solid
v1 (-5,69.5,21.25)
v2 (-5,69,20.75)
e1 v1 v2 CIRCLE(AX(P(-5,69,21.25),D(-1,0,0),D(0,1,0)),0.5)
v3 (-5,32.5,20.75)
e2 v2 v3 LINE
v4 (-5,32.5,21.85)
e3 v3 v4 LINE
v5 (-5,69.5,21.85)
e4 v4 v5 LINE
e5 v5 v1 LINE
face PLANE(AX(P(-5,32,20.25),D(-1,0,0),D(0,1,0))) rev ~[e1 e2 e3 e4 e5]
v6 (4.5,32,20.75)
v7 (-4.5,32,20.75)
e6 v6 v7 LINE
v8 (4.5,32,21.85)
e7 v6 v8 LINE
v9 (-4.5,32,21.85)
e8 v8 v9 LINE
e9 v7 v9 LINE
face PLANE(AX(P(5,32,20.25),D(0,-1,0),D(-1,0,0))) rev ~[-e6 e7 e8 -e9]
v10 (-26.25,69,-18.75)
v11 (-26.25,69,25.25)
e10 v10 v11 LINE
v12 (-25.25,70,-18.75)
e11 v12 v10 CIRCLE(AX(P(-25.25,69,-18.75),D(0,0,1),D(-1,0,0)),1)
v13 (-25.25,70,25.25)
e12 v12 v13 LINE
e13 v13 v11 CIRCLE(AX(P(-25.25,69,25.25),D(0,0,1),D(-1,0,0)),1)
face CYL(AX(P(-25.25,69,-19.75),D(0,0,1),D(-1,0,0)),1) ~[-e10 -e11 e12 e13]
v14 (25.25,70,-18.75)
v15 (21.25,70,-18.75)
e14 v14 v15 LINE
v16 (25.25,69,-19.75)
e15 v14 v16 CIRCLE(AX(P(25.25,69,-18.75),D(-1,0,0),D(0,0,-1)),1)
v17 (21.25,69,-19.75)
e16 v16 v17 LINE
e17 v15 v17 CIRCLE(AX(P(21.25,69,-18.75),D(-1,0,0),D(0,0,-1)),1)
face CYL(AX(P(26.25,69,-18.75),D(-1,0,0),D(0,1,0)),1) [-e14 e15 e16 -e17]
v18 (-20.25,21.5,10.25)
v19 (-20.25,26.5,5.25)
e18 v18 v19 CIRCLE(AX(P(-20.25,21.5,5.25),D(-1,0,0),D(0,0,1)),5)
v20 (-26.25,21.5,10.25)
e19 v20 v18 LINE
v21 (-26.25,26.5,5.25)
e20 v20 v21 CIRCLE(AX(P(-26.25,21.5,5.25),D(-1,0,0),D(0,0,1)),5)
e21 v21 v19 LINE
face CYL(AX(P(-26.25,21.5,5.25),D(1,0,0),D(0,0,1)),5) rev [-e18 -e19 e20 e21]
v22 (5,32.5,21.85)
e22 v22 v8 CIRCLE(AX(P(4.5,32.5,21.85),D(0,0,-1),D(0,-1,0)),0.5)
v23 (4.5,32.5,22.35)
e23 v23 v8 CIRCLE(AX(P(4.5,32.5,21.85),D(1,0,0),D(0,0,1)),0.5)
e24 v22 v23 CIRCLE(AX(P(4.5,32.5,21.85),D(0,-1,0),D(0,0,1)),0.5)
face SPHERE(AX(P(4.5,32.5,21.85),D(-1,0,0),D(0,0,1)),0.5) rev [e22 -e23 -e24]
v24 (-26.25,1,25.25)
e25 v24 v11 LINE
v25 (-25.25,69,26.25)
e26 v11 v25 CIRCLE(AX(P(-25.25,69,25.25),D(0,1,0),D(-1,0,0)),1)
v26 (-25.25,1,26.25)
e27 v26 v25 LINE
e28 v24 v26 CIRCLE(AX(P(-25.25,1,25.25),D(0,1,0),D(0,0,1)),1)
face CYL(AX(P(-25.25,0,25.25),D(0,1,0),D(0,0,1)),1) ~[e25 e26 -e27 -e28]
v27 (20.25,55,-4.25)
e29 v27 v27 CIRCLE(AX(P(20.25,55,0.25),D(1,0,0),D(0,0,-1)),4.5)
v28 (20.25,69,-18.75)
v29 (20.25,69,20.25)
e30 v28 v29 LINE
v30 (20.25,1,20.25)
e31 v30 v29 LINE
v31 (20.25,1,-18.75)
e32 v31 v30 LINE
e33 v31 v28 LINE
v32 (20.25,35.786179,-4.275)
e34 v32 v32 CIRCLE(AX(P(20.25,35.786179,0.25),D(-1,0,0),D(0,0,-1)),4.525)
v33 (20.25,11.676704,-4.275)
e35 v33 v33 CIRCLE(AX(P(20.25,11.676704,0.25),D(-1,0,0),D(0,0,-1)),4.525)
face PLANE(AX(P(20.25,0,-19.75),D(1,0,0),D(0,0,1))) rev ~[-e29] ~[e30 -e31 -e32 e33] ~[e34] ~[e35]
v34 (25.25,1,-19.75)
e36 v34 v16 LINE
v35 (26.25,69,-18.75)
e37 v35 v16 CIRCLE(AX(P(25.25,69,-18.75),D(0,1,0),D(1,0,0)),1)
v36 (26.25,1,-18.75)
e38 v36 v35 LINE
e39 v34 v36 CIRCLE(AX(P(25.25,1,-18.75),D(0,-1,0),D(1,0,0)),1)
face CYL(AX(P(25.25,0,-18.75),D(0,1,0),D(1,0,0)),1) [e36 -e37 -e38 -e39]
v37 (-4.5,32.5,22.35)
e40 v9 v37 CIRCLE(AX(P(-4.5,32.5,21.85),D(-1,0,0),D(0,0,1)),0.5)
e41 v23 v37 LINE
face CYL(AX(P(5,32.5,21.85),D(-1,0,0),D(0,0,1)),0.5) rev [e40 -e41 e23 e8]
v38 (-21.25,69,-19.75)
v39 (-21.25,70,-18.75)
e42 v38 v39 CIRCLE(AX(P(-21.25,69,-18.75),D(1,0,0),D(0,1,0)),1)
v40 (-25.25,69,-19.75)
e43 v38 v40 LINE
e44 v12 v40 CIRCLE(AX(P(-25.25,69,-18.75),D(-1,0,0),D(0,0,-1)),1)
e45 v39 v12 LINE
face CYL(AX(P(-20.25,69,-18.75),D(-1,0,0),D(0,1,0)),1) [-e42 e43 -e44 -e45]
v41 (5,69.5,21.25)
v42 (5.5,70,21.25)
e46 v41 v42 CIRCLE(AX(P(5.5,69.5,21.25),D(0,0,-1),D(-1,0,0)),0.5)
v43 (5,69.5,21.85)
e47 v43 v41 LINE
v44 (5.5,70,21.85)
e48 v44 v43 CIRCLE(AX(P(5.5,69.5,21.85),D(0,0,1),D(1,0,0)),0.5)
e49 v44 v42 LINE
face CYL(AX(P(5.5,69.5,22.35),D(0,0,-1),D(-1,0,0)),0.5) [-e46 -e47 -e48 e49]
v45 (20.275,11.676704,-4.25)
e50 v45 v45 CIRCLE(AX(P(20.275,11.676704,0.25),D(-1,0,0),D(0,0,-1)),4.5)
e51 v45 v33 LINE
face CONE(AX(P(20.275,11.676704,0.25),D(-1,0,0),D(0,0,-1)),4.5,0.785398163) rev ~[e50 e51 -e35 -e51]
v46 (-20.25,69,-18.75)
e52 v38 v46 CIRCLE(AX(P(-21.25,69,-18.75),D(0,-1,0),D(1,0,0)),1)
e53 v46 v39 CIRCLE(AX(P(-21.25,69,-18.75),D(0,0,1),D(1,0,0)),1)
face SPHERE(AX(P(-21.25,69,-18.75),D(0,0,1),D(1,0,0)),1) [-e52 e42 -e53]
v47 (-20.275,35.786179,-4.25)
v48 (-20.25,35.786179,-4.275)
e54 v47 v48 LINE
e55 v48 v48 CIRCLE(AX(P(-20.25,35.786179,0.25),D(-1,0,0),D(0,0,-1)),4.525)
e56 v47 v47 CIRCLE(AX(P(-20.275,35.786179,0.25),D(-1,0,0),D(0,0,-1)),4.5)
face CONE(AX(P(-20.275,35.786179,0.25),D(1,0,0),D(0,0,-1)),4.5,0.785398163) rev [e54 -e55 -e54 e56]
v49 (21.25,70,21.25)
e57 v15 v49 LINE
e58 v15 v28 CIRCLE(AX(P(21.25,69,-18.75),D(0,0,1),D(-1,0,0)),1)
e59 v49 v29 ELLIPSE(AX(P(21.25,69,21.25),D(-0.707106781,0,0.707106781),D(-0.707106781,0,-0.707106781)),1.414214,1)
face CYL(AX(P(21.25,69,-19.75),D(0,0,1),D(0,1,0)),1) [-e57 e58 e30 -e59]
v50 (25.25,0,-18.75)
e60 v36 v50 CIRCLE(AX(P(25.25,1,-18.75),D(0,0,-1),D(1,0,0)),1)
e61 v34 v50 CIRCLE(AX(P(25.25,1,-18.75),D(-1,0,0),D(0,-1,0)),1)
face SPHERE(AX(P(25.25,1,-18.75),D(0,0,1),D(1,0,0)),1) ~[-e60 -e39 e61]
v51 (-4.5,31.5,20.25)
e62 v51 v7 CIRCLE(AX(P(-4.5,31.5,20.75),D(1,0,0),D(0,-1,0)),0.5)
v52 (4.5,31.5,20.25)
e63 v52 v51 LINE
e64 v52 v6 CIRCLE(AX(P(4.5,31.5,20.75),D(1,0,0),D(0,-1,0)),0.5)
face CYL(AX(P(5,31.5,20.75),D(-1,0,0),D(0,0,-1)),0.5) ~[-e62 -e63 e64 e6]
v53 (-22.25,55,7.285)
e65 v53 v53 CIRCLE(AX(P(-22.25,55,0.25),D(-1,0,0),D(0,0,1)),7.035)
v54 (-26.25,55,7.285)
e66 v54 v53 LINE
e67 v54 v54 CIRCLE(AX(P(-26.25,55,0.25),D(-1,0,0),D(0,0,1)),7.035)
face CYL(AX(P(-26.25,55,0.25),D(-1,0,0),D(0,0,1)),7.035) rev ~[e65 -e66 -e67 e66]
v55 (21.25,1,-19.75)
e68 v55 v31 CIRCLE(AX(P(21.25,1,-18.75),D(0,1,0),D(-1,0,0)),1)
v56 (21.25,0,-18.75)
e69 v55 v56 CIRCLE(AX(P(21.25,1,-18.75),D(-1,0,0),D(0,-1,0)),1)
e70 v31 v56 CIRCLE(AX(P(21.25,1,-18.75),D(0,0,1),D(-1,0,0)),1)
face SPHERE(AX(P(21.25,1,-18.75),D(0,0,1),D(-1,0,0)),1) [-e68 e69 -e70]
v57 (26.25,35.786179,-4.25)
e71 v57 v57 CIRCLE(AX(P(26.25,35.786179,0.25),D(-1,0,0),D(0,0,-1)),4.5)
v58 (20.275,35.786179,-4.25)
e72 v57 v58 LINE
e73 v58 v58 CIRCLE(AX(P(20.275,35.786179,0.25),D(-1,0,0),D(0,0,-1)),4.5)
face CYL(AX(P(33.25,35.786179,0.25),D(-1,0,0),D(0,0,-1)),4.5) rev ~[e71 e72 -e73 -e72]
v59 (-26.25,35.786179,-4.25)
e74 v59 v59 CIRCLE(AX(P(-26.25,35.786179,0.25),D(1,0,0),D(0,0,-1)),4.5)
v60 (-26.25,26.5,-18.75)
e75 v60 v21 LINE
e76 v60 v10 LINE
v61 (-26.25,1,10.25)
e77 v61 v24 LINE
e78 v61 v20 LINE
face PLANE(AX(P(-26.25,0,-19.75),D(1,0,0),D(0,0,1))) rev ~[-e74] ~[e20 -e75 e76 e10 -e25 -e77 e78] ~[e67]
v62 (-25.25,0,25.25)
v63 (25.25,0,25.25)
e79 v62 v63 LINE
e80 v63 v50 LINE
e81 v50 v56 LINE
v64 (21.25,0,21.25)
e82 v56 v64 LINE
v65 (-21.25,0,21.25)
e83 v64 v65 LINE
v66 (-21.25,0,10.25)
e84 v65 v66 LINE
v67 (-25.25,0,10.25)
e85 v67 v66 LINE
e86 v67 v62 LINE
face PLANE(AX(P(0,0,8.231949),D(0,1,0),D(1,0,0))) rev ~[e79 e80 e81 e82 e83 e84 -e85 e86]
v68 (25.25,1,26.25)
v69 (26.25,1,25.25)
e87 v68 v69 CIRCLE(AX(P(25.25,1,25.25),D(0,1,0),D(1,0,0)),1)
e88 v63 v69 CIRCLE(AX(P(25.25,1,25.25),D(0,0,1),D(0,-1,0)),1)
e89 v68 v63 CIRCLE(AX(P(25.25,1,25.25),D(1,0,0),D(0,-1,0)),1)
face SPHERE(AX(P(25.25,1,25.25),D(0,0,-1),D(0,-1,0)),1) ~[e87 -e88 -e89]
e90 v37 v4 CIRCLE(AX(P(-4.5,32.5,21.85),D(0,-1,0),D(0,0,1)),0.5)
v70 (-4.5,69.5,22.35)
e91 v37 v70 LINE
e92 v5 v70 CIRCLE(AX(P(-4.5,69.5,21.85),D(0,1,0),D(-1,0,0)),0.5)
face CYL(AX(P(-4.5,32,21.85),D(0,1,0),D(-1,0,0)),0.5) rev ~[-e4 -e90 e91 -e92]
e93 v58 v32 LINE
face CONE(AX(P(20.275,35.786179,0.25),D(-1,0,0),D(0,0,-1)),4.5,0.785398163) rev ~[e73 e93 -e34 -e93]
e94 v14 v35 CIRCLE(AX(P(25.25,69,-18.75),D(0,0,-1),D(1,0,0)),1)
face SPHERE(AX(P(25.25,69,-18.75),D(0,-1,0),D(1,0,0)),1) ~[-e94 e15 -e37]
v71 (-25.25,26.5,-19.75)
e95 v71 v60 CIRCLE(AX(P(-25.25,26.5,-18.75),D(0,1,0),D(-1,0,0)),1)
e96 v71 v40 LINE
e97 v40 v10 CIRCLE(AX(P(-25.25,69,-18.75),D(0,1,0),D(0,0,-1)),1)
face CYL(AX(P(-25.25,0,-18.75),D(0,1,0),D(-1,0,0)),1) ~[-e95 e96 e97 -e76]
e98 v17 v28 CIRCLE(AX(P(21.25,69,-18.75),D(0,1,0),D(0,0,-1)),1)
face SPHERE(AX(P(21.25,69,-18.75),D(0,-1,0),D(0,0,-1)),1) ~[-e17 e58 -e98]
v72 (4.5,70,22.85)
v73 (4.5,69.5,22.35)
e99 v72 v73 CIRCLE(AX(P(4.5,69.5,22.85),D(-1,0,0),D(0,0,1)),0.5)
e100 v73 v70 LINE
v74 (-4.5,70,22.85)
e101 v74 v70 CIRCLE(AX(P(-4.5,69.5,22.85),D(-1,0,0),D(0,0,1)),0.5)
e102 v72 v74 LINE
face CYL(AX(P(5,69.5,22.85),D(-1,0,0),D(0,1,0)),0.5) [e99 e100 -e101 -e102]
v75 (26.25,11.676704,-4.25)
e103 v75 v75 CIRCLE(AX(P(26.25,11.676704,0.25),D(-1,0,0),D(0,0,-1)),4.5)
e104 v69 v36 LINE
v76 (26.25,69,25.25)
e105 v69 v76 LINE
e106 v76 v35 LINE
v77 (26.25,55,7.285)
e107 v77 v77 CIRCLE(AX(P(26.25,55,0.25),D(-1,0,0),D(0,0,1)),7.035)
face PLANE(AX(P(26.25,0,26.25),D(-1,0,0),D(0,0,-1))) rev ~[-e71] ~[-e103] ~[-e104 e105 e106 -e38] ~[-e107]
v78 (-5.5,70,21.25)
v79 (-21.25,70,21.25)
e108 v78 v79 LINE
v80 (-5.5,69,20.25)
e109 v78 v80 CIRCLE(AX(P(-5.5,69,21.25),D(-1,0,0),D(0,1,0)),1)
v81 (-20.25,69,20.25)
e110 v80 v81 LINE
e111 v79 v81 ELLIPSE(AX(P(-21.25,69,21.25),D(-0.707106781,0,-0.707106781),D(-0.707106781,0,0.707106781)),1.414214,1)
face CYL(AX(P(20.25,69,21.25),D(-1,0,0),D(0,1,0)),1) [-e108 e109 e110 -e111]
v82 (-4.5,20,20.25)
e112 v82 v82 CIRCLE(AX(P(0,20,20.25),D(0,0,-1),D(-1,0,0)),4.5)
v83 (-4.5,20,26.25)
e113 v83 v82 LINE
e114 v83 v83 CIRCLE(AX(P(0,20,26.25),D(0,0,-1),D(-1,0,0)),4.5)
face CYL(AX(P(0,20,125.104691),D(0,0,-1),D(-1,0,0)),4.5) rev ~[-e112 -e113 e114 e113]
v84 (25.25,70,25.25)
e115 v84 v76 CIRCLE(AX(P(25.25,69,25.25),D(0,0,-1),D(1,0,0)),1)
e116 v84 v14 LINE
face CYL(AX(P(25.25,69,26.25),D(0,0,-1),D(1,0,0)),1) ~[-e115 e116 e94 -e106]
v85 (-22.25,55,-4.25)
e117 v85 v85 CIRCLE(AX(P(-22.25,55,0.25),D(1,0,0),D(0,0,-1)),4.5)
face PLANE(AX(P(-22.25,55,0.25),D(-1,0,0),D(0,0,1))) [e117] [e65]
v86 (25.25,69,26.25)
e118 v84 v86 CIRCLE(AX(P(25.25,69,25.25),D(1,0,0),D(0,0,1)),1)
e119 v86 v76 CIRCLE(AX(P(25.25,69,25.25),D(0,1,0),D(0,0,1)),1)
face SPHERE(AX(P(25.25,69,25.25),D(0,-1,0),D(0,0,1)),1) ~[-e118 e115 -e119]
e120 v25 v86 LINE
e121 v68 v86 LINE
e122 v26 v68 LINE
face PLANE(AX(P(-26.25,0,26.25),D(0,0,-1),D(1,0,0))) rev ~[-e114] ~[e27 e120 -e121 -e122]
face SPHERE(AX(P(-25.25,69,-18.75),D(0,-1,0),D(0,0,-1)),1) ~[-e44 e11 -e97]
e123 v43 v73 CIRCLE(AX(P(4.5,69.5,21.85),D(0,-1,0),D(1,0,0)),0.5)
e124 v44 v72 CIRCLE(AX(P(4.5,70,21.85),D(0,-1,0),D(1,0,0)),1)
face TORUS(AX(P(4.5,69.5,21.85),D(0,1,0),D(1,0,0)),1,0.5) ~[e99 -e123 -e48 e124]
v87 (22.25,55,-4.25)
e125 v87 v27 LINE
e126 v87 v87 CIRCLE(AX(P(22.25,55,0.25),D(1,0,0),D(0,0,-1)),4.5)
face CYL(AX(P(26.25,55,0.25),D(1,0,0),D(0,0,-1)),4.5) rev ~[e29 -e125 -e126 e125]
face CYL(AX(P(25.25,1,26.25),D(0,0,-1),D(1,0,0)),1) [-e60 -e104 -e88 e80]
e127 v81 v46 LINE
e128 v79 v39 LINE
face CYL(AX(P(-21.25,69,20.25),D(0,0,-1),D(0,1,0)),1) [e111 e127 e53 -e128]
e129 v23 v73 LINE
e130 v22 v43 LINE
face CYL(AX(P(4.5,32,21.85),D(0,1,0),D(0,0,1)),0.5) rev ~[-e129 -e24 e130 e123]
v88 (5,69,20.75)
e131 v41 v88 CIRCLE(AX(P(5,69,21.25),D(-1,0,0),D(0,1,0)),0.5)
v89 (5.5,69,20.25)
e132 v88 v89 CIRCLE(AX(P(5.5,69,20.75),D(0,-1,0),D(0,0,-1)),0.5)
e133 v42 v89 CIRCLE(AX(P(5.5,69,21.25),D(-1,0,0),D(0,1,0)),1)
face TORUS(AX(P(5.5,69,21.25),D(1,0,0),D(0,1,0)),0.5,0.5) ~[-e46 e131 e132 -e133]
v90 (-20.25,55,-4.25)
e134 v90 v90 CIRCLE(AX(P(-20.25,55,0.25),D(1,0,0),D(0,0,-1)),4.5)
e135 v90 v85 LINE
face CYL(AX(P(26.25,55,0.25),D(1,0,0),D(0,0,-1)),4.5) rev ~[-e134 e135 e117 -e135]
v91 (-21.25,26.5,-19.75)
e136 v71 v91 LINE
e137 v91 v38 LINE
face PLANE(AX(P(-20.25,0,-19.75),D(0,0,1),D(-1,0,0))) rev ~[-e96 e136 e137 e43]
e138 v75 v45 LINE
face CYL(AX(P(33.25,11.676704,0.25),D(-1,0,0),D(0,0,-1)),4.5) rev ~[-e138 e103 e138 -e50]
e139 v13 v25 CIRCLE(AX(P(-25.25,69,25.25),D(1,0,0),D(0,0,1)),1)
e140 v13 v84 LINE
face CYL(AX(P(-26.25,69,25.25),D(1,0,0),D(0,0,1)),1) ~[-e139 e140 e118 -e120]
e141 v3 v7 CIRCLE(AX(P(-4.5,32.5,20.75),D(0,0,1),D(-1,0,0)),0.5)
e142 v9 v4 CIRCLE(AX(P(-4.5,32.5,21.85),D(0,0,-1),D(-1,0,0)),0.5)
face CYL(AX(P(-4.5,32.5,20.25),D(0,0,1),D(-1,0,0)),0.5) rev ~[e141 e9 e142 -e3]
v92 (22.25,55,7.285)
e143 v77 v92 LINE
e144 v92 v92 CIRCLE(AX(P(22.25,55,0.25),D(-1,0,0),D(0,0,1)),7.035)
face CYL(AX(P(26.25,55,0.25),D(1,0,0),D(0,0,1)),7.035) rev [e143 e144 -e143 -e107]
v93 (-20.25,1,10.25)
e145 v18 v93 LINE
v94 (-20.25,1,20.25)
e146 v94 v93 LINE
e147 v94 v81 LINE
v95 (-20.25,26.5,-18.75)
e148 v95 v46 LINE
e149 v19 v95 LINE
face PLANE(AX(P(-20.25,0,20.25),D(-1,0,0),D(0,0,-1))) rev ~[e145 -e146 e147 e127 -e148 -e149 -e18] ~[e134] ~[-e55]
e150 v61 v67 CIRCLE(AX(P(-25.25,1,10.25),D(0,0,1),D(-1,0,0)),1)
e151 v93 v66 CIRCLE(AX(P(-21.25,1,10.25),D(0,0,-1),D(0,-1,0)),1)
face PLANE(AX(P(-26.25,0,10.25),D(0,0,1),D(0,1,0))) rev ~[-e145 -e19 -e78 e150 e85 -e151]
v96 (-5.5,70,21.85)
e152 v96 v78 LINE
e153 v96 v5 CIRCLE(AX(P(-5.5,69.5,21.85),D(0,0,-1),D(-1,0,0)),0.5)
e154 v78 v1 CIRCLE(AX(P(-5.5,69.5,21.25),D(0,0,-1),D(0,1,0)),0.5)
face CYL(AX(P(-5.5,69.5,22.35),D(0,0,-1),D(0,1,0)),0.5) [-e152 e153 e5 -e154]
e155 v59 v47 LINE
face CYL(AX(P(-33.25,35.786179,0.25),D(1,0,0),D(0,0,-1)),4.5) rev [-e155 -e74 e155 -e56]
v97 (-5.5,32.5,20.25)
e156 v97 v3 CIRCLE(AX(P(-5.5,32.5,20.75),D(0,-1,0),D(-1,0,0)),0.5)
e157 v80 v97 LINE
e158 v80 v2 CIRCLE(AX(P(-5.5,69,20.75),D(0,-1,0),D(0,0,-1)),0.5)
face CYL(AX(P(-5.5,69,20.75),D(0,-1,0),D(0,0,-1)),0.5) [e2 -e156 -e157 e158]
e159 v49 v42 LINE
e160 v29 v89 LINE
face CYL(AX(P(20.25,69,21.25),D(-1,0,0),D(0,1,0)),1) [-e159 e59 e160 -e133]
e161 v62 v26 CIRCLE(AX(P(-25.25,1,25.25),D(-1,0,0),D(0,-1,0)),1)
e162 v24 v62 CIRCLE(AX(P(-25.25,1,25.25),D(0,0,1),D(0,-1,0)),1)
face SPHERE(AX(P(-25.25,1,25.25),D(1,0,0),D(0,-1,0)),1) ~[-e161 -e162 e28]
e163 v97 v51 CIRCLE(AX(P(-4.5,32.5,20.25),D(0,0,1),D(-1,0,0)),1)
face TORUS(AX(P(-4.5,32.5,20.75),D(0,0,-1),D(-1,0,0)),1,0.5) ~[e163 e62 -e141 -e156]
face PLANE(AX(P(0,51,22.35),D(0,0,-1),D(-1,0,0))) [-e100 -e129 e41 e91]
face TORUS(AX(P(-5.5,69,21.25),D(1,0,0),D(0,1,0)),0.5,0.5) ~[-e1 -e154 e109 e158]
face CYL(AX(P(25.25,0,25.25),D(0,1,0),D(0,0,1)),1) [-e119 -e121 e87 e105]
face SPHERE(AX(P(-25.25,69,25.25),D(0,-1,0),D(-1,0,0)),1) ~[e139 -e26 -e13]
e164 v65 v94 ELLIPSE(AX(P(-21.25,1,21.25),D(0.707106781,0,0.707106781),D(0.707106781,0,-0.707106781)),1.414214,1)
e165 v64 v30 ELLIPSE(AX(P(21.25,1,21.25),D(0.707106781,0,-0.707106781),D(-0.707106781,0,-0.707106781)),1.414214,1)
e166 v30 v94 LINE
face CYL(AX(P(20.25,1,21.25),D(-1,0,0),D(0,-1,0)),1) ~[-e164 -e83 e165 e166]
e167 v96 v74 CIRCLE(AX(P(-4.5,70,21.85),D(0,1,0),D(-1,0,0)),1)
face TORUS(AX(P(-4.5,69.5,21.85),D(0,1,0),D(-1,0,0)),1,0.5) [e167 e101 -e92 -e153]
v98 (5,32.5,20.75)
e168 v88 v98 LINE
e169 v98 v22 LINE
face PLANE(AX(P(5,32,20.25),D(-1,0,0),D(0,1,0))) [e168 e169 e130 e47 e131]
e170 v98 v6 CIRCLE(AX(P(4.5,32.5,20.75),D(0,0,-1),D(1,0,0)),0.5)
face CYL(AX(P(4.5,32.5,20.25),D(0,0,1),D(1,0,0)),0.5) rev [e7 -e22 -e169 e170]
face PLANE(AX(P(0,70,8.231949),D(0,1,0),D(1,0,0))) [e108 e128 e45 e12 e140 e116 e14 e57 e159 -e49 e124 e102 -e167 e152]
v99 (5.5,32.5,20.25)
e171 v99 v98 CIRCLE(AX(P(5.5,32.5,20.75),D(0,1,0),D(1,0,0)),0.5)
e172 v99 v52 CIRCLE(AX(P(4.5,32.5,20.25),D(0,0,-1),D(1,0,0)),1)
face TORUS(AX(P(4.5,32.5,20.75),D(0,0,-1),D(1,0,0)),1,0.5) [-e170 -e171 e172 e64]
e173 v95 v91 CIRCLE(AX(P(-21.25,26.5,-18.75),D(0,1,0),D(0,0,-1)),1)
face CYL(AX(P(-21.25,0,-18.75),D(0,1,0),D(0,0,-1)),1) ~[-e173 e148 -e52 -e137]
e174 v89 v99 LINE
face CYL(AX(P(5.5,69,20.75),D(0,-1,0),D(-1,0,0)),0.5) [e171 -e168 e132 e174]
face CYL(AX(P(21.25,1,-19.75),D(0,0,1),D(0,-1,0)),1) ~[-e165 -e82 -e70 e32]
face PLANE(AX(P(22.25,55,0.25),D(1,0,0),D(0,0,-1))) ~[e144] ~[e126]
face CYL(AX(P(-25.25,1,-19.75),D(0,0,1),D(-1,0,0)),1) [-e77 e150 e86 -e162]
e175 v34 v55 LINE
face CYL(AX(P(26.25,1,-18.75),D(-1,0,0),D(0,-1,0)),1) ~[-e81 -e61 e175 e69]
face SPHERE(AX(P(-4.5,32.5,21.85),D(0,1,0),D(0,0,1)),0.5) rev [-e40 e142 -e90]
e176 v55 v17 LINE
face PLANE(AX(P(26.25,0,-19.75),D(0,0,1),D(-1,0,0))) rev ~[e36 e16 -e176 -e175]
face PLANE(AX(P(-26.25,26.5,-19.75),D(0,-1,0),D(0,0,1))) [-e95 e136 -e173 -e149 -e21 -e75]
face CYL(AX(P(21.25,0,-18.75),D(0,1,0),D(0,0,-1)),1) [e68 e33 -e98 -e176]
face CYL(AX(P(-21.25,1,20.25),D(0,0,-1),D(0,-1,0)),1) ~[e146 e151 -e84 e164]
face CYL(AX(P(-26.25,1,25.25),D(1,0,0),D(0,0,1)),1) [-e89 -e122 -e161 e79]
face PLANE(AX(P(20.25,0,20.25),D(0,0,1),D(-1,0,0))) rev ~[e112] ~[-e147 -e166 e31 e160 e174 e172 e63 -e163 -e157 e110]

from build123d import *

# Parameters (mm, degrees)
BOSS_EXTRUDE1_DEPTH           = 70
SKETCH8_R                     = 4.5
CUT_EXTRUDE4_DEPTH            = 53.5
SKETCH10_R                    = 7.035
CUT_EXTRUDE5_DEPTH            = 4
FILLET13_R                    = 1
M8_CLEARANCE_HOLE1_AT_2_COUNT = 2
M8_CLEARANCE_HOLE1_AT_2_PITCH = 24.109474775
CUT_EXTRUDE6_REACH            = 54.5
SKETCH21_W                    = 30
SKETCH21_H                    = 26.5
M8_CLEARANCE_HOLE2_D          = 9
FILLET14_R                    = 5
SKETCH24_W                    = 10
SKETCH24_H                    = 38
CUT_EXTRUDE7_DEPTH            = 2.1
FILLET15_R                    = 0.5


with BuildPart() as part:
    # Sketch1 → Boss-Extrude1 (new body)
    with BuildSketch(Plane(origin=(0, 0, 0), x_dir=(1, 0, 0), z_dir=(0, 1, 0))):
        Polygon((-26.25, -26.25), (26.25, -26.25), (26.25, 19.75), (20.25, 19.75), (20.25, -20.25), (-20.25, -20.25), (-20.25, 19.75), (-26.25, 19.75), align=None)
    extrude(amount=BOSS_EXTRUDE1_DEPTH)

    # Sketch8 → Cut-Extrude4 (cut, through all)
    with BuildSketch(Plane(origin=(26.25, 0, 0), x_dir=(0, 0, -1), z_dir=(1, 0, 0))):
        with Locations((-0.25, 55)):
            Circle(SKETCH8_R)
    extrude(amount=-CUT_EXTRUDE4_DEPTH, mode=Mode.SUBTRACT)

    # Sketch10 → Cut-Extrude5 (cut)
    with BuildSketch(Plane.ZY.offset(26.25)):
        with Locations((0.25, 55)):
            Circle(SKETCH10_R)
    cut_extrude5 = extrude(amount=-CUT_EXTRUDE5_DEPTH, mode=Mode.SUBTRACT)

    # Mirror1: Cut-Extrude5 across plane
    add(cut_extrude5.mirror(Plane(origin=(0, 0, 0), x_dir=(0, 0, 1), z_dir=(1, 0, 0))), mode=Mode.SUBTRACT)

    # Fillet13
    fillet13_edges = [part.edges().sort_by_distance(p)[0] for p in [
        (26.25, 0, 3.25),
        (0, 0, 26.25),
        (0, 70, 20.25),
        (-26.25, 0, 3.25),
        (-23.25, 0, -19.75),
        (-20.25, 0, 0.25),
        (0, 0, 20.25),
        (20.25, 0, 0.25),
        (-20.25, 70, 0.25),
        (20.25, 35, -19.75),
        (26.25, 35, -19.75),
        (26.25, 35, 26.25),
        (-26.25, 35, 26.25),
        (-26.25, 35, -19.75),
        (-20.25, 35, -19.75),
        (-23.25, 70, -19.75),
        (-26.25, 70, 3.25),
        (0, 70, 26.25),
        (26.25, 70, 3.25),
        (23.25, 70, -19.75),
        (20.25, 70, 0.25),
        (23.25, 0, -19.75),
    ]]
    fillet(fillet13_edges, radius=FILLET13_R)

    # Sketch18 → M8 Clearance Hole1 (revolve, cut)
    with BuildSketch(Plane(origin=(-20.25, 35.786178525, 0.25), x_dir=(0, 0, -1), z_dir=(0, 1, 0))):
        Polygon((0, 0), (0, 15.703872786), (4.5, 13), (4.5, 0.025), (4.525, 0), align=None)
    m8_clearance_hole1 = revolve(axis=Axis((-13.9, 35.786178525, 0.25), (-1, 0, 0)), mode=Mode.SUBTRACT)

    # M8 Clearance Hole1 at 2: M8 Clearance Hole1 ×2
    with Locations(*[(0, -i * M8_CLEARANCE_HOLE1_AT_2_PITCH, 0) for i in range(1, M8_CLEARANCE_HOLE1_AT_2_COUNT)]):
        add(m8_clearance_hole1, mode=Mode.SUBTRACT)

    # Mirror2: M8 Clearance Hole1 across plane
    add(m8_clearance_hole1.mirror(Plane(origin=(0, 0, 0), x_dir=(0, 0, 1), z_dir=(1, 0, 0))), mode=Mode.SUBTRACT)

    # Mirror2 copy 1 sketch → Mirror2 copy 1 (revolve, cut)
    with BuildSketch(Plane(origin=(20.25, 11.676703751, 0.25), x_dir=(0, 0, -1), z_dir=(0, 1, 0))):
        Polygon((0, 0), (0, -15.703872786), (4.5, -13), (4.5, -0.025), (4.525, 0), align=None)
    revolve(axis=Axis((13.9, 11.676703751, 0.25), (-1, 0, 0)), mode=Mode.SUBTRACT)

    # Sketch21 → Cut-Extrude6 (cut, up to next)
    with BuildSketch(Plane.ZY.offset(26.25), mode=Mode.PRIVATE) as cut_extrude6_sk1:
        with Locations((-4.75, 13.25)):
            Rectangle(SKETCH21_W, SKETCH21_H)
    cut_extrude6_tool1 = extrude(cut_extrude6_sk1.sketch, amount=-CUT_EXTRUDE6_REACH, mode=Mode.PRIVATE) & part.part
    add(cut_extrude6_tool1.solids().sort_by_distance((-26.25, 13.25, -4.75))[0], mode=Mode.SUBTRACT)

    # M8 Clearance Hole2 (through all)
    with Locations(Plane.XY.offset(26.25)):
        with Locations((0, 20)):
            Hole(M8_CLEARANCE_HOLE2_D / 2)

    # Fillet14
    fillet14_edges = [part.edges().sort_by_distance(p)[0] for p in [
        (-23.25, 26.5, 10.25),
    ]]
    fillet(fillet14_edges, radius=FILLET14_R)

    # Sketch24 → Cut-Extrude7 (cut)
    with BuildSketch(Plane(origin=(0, 0, 20.25), x_dir=(-1, 0, 0), z_dir=(0, 0, -1))):
        with Locations((0, 51)):
            Rectangle(SKETCH24_W, SKETCH24_H)
    extrude(amount=-CUT_EXTRUDE7_DEPTH, mode=Mode.SUBTRACT)

    # Fillet15
    fillet15_edges = [part.edges().sort_by_distance(p)[0] for p in [
        (5, 69.707106781, 20.542893219),
        (-5, 69.707106781, 20.542893219),
        (5, 70, 21.8),
        (0, 70, 22.35),
        (5, 50.5, 20.25),
        (0, 32, 20.25),
        (-5, 50.5, 20.25),
        (-5, 51, 22.35),
        (-5, 70, 21.8),
        (0, 32, 22.35),
        (-5, 32, 21.3),
        (5, 51, 22.35),
        (5, 32, 21.3),
    ]]
    fillet(fillet15_edges, radius=FILLET15_R)


solid = part.part
